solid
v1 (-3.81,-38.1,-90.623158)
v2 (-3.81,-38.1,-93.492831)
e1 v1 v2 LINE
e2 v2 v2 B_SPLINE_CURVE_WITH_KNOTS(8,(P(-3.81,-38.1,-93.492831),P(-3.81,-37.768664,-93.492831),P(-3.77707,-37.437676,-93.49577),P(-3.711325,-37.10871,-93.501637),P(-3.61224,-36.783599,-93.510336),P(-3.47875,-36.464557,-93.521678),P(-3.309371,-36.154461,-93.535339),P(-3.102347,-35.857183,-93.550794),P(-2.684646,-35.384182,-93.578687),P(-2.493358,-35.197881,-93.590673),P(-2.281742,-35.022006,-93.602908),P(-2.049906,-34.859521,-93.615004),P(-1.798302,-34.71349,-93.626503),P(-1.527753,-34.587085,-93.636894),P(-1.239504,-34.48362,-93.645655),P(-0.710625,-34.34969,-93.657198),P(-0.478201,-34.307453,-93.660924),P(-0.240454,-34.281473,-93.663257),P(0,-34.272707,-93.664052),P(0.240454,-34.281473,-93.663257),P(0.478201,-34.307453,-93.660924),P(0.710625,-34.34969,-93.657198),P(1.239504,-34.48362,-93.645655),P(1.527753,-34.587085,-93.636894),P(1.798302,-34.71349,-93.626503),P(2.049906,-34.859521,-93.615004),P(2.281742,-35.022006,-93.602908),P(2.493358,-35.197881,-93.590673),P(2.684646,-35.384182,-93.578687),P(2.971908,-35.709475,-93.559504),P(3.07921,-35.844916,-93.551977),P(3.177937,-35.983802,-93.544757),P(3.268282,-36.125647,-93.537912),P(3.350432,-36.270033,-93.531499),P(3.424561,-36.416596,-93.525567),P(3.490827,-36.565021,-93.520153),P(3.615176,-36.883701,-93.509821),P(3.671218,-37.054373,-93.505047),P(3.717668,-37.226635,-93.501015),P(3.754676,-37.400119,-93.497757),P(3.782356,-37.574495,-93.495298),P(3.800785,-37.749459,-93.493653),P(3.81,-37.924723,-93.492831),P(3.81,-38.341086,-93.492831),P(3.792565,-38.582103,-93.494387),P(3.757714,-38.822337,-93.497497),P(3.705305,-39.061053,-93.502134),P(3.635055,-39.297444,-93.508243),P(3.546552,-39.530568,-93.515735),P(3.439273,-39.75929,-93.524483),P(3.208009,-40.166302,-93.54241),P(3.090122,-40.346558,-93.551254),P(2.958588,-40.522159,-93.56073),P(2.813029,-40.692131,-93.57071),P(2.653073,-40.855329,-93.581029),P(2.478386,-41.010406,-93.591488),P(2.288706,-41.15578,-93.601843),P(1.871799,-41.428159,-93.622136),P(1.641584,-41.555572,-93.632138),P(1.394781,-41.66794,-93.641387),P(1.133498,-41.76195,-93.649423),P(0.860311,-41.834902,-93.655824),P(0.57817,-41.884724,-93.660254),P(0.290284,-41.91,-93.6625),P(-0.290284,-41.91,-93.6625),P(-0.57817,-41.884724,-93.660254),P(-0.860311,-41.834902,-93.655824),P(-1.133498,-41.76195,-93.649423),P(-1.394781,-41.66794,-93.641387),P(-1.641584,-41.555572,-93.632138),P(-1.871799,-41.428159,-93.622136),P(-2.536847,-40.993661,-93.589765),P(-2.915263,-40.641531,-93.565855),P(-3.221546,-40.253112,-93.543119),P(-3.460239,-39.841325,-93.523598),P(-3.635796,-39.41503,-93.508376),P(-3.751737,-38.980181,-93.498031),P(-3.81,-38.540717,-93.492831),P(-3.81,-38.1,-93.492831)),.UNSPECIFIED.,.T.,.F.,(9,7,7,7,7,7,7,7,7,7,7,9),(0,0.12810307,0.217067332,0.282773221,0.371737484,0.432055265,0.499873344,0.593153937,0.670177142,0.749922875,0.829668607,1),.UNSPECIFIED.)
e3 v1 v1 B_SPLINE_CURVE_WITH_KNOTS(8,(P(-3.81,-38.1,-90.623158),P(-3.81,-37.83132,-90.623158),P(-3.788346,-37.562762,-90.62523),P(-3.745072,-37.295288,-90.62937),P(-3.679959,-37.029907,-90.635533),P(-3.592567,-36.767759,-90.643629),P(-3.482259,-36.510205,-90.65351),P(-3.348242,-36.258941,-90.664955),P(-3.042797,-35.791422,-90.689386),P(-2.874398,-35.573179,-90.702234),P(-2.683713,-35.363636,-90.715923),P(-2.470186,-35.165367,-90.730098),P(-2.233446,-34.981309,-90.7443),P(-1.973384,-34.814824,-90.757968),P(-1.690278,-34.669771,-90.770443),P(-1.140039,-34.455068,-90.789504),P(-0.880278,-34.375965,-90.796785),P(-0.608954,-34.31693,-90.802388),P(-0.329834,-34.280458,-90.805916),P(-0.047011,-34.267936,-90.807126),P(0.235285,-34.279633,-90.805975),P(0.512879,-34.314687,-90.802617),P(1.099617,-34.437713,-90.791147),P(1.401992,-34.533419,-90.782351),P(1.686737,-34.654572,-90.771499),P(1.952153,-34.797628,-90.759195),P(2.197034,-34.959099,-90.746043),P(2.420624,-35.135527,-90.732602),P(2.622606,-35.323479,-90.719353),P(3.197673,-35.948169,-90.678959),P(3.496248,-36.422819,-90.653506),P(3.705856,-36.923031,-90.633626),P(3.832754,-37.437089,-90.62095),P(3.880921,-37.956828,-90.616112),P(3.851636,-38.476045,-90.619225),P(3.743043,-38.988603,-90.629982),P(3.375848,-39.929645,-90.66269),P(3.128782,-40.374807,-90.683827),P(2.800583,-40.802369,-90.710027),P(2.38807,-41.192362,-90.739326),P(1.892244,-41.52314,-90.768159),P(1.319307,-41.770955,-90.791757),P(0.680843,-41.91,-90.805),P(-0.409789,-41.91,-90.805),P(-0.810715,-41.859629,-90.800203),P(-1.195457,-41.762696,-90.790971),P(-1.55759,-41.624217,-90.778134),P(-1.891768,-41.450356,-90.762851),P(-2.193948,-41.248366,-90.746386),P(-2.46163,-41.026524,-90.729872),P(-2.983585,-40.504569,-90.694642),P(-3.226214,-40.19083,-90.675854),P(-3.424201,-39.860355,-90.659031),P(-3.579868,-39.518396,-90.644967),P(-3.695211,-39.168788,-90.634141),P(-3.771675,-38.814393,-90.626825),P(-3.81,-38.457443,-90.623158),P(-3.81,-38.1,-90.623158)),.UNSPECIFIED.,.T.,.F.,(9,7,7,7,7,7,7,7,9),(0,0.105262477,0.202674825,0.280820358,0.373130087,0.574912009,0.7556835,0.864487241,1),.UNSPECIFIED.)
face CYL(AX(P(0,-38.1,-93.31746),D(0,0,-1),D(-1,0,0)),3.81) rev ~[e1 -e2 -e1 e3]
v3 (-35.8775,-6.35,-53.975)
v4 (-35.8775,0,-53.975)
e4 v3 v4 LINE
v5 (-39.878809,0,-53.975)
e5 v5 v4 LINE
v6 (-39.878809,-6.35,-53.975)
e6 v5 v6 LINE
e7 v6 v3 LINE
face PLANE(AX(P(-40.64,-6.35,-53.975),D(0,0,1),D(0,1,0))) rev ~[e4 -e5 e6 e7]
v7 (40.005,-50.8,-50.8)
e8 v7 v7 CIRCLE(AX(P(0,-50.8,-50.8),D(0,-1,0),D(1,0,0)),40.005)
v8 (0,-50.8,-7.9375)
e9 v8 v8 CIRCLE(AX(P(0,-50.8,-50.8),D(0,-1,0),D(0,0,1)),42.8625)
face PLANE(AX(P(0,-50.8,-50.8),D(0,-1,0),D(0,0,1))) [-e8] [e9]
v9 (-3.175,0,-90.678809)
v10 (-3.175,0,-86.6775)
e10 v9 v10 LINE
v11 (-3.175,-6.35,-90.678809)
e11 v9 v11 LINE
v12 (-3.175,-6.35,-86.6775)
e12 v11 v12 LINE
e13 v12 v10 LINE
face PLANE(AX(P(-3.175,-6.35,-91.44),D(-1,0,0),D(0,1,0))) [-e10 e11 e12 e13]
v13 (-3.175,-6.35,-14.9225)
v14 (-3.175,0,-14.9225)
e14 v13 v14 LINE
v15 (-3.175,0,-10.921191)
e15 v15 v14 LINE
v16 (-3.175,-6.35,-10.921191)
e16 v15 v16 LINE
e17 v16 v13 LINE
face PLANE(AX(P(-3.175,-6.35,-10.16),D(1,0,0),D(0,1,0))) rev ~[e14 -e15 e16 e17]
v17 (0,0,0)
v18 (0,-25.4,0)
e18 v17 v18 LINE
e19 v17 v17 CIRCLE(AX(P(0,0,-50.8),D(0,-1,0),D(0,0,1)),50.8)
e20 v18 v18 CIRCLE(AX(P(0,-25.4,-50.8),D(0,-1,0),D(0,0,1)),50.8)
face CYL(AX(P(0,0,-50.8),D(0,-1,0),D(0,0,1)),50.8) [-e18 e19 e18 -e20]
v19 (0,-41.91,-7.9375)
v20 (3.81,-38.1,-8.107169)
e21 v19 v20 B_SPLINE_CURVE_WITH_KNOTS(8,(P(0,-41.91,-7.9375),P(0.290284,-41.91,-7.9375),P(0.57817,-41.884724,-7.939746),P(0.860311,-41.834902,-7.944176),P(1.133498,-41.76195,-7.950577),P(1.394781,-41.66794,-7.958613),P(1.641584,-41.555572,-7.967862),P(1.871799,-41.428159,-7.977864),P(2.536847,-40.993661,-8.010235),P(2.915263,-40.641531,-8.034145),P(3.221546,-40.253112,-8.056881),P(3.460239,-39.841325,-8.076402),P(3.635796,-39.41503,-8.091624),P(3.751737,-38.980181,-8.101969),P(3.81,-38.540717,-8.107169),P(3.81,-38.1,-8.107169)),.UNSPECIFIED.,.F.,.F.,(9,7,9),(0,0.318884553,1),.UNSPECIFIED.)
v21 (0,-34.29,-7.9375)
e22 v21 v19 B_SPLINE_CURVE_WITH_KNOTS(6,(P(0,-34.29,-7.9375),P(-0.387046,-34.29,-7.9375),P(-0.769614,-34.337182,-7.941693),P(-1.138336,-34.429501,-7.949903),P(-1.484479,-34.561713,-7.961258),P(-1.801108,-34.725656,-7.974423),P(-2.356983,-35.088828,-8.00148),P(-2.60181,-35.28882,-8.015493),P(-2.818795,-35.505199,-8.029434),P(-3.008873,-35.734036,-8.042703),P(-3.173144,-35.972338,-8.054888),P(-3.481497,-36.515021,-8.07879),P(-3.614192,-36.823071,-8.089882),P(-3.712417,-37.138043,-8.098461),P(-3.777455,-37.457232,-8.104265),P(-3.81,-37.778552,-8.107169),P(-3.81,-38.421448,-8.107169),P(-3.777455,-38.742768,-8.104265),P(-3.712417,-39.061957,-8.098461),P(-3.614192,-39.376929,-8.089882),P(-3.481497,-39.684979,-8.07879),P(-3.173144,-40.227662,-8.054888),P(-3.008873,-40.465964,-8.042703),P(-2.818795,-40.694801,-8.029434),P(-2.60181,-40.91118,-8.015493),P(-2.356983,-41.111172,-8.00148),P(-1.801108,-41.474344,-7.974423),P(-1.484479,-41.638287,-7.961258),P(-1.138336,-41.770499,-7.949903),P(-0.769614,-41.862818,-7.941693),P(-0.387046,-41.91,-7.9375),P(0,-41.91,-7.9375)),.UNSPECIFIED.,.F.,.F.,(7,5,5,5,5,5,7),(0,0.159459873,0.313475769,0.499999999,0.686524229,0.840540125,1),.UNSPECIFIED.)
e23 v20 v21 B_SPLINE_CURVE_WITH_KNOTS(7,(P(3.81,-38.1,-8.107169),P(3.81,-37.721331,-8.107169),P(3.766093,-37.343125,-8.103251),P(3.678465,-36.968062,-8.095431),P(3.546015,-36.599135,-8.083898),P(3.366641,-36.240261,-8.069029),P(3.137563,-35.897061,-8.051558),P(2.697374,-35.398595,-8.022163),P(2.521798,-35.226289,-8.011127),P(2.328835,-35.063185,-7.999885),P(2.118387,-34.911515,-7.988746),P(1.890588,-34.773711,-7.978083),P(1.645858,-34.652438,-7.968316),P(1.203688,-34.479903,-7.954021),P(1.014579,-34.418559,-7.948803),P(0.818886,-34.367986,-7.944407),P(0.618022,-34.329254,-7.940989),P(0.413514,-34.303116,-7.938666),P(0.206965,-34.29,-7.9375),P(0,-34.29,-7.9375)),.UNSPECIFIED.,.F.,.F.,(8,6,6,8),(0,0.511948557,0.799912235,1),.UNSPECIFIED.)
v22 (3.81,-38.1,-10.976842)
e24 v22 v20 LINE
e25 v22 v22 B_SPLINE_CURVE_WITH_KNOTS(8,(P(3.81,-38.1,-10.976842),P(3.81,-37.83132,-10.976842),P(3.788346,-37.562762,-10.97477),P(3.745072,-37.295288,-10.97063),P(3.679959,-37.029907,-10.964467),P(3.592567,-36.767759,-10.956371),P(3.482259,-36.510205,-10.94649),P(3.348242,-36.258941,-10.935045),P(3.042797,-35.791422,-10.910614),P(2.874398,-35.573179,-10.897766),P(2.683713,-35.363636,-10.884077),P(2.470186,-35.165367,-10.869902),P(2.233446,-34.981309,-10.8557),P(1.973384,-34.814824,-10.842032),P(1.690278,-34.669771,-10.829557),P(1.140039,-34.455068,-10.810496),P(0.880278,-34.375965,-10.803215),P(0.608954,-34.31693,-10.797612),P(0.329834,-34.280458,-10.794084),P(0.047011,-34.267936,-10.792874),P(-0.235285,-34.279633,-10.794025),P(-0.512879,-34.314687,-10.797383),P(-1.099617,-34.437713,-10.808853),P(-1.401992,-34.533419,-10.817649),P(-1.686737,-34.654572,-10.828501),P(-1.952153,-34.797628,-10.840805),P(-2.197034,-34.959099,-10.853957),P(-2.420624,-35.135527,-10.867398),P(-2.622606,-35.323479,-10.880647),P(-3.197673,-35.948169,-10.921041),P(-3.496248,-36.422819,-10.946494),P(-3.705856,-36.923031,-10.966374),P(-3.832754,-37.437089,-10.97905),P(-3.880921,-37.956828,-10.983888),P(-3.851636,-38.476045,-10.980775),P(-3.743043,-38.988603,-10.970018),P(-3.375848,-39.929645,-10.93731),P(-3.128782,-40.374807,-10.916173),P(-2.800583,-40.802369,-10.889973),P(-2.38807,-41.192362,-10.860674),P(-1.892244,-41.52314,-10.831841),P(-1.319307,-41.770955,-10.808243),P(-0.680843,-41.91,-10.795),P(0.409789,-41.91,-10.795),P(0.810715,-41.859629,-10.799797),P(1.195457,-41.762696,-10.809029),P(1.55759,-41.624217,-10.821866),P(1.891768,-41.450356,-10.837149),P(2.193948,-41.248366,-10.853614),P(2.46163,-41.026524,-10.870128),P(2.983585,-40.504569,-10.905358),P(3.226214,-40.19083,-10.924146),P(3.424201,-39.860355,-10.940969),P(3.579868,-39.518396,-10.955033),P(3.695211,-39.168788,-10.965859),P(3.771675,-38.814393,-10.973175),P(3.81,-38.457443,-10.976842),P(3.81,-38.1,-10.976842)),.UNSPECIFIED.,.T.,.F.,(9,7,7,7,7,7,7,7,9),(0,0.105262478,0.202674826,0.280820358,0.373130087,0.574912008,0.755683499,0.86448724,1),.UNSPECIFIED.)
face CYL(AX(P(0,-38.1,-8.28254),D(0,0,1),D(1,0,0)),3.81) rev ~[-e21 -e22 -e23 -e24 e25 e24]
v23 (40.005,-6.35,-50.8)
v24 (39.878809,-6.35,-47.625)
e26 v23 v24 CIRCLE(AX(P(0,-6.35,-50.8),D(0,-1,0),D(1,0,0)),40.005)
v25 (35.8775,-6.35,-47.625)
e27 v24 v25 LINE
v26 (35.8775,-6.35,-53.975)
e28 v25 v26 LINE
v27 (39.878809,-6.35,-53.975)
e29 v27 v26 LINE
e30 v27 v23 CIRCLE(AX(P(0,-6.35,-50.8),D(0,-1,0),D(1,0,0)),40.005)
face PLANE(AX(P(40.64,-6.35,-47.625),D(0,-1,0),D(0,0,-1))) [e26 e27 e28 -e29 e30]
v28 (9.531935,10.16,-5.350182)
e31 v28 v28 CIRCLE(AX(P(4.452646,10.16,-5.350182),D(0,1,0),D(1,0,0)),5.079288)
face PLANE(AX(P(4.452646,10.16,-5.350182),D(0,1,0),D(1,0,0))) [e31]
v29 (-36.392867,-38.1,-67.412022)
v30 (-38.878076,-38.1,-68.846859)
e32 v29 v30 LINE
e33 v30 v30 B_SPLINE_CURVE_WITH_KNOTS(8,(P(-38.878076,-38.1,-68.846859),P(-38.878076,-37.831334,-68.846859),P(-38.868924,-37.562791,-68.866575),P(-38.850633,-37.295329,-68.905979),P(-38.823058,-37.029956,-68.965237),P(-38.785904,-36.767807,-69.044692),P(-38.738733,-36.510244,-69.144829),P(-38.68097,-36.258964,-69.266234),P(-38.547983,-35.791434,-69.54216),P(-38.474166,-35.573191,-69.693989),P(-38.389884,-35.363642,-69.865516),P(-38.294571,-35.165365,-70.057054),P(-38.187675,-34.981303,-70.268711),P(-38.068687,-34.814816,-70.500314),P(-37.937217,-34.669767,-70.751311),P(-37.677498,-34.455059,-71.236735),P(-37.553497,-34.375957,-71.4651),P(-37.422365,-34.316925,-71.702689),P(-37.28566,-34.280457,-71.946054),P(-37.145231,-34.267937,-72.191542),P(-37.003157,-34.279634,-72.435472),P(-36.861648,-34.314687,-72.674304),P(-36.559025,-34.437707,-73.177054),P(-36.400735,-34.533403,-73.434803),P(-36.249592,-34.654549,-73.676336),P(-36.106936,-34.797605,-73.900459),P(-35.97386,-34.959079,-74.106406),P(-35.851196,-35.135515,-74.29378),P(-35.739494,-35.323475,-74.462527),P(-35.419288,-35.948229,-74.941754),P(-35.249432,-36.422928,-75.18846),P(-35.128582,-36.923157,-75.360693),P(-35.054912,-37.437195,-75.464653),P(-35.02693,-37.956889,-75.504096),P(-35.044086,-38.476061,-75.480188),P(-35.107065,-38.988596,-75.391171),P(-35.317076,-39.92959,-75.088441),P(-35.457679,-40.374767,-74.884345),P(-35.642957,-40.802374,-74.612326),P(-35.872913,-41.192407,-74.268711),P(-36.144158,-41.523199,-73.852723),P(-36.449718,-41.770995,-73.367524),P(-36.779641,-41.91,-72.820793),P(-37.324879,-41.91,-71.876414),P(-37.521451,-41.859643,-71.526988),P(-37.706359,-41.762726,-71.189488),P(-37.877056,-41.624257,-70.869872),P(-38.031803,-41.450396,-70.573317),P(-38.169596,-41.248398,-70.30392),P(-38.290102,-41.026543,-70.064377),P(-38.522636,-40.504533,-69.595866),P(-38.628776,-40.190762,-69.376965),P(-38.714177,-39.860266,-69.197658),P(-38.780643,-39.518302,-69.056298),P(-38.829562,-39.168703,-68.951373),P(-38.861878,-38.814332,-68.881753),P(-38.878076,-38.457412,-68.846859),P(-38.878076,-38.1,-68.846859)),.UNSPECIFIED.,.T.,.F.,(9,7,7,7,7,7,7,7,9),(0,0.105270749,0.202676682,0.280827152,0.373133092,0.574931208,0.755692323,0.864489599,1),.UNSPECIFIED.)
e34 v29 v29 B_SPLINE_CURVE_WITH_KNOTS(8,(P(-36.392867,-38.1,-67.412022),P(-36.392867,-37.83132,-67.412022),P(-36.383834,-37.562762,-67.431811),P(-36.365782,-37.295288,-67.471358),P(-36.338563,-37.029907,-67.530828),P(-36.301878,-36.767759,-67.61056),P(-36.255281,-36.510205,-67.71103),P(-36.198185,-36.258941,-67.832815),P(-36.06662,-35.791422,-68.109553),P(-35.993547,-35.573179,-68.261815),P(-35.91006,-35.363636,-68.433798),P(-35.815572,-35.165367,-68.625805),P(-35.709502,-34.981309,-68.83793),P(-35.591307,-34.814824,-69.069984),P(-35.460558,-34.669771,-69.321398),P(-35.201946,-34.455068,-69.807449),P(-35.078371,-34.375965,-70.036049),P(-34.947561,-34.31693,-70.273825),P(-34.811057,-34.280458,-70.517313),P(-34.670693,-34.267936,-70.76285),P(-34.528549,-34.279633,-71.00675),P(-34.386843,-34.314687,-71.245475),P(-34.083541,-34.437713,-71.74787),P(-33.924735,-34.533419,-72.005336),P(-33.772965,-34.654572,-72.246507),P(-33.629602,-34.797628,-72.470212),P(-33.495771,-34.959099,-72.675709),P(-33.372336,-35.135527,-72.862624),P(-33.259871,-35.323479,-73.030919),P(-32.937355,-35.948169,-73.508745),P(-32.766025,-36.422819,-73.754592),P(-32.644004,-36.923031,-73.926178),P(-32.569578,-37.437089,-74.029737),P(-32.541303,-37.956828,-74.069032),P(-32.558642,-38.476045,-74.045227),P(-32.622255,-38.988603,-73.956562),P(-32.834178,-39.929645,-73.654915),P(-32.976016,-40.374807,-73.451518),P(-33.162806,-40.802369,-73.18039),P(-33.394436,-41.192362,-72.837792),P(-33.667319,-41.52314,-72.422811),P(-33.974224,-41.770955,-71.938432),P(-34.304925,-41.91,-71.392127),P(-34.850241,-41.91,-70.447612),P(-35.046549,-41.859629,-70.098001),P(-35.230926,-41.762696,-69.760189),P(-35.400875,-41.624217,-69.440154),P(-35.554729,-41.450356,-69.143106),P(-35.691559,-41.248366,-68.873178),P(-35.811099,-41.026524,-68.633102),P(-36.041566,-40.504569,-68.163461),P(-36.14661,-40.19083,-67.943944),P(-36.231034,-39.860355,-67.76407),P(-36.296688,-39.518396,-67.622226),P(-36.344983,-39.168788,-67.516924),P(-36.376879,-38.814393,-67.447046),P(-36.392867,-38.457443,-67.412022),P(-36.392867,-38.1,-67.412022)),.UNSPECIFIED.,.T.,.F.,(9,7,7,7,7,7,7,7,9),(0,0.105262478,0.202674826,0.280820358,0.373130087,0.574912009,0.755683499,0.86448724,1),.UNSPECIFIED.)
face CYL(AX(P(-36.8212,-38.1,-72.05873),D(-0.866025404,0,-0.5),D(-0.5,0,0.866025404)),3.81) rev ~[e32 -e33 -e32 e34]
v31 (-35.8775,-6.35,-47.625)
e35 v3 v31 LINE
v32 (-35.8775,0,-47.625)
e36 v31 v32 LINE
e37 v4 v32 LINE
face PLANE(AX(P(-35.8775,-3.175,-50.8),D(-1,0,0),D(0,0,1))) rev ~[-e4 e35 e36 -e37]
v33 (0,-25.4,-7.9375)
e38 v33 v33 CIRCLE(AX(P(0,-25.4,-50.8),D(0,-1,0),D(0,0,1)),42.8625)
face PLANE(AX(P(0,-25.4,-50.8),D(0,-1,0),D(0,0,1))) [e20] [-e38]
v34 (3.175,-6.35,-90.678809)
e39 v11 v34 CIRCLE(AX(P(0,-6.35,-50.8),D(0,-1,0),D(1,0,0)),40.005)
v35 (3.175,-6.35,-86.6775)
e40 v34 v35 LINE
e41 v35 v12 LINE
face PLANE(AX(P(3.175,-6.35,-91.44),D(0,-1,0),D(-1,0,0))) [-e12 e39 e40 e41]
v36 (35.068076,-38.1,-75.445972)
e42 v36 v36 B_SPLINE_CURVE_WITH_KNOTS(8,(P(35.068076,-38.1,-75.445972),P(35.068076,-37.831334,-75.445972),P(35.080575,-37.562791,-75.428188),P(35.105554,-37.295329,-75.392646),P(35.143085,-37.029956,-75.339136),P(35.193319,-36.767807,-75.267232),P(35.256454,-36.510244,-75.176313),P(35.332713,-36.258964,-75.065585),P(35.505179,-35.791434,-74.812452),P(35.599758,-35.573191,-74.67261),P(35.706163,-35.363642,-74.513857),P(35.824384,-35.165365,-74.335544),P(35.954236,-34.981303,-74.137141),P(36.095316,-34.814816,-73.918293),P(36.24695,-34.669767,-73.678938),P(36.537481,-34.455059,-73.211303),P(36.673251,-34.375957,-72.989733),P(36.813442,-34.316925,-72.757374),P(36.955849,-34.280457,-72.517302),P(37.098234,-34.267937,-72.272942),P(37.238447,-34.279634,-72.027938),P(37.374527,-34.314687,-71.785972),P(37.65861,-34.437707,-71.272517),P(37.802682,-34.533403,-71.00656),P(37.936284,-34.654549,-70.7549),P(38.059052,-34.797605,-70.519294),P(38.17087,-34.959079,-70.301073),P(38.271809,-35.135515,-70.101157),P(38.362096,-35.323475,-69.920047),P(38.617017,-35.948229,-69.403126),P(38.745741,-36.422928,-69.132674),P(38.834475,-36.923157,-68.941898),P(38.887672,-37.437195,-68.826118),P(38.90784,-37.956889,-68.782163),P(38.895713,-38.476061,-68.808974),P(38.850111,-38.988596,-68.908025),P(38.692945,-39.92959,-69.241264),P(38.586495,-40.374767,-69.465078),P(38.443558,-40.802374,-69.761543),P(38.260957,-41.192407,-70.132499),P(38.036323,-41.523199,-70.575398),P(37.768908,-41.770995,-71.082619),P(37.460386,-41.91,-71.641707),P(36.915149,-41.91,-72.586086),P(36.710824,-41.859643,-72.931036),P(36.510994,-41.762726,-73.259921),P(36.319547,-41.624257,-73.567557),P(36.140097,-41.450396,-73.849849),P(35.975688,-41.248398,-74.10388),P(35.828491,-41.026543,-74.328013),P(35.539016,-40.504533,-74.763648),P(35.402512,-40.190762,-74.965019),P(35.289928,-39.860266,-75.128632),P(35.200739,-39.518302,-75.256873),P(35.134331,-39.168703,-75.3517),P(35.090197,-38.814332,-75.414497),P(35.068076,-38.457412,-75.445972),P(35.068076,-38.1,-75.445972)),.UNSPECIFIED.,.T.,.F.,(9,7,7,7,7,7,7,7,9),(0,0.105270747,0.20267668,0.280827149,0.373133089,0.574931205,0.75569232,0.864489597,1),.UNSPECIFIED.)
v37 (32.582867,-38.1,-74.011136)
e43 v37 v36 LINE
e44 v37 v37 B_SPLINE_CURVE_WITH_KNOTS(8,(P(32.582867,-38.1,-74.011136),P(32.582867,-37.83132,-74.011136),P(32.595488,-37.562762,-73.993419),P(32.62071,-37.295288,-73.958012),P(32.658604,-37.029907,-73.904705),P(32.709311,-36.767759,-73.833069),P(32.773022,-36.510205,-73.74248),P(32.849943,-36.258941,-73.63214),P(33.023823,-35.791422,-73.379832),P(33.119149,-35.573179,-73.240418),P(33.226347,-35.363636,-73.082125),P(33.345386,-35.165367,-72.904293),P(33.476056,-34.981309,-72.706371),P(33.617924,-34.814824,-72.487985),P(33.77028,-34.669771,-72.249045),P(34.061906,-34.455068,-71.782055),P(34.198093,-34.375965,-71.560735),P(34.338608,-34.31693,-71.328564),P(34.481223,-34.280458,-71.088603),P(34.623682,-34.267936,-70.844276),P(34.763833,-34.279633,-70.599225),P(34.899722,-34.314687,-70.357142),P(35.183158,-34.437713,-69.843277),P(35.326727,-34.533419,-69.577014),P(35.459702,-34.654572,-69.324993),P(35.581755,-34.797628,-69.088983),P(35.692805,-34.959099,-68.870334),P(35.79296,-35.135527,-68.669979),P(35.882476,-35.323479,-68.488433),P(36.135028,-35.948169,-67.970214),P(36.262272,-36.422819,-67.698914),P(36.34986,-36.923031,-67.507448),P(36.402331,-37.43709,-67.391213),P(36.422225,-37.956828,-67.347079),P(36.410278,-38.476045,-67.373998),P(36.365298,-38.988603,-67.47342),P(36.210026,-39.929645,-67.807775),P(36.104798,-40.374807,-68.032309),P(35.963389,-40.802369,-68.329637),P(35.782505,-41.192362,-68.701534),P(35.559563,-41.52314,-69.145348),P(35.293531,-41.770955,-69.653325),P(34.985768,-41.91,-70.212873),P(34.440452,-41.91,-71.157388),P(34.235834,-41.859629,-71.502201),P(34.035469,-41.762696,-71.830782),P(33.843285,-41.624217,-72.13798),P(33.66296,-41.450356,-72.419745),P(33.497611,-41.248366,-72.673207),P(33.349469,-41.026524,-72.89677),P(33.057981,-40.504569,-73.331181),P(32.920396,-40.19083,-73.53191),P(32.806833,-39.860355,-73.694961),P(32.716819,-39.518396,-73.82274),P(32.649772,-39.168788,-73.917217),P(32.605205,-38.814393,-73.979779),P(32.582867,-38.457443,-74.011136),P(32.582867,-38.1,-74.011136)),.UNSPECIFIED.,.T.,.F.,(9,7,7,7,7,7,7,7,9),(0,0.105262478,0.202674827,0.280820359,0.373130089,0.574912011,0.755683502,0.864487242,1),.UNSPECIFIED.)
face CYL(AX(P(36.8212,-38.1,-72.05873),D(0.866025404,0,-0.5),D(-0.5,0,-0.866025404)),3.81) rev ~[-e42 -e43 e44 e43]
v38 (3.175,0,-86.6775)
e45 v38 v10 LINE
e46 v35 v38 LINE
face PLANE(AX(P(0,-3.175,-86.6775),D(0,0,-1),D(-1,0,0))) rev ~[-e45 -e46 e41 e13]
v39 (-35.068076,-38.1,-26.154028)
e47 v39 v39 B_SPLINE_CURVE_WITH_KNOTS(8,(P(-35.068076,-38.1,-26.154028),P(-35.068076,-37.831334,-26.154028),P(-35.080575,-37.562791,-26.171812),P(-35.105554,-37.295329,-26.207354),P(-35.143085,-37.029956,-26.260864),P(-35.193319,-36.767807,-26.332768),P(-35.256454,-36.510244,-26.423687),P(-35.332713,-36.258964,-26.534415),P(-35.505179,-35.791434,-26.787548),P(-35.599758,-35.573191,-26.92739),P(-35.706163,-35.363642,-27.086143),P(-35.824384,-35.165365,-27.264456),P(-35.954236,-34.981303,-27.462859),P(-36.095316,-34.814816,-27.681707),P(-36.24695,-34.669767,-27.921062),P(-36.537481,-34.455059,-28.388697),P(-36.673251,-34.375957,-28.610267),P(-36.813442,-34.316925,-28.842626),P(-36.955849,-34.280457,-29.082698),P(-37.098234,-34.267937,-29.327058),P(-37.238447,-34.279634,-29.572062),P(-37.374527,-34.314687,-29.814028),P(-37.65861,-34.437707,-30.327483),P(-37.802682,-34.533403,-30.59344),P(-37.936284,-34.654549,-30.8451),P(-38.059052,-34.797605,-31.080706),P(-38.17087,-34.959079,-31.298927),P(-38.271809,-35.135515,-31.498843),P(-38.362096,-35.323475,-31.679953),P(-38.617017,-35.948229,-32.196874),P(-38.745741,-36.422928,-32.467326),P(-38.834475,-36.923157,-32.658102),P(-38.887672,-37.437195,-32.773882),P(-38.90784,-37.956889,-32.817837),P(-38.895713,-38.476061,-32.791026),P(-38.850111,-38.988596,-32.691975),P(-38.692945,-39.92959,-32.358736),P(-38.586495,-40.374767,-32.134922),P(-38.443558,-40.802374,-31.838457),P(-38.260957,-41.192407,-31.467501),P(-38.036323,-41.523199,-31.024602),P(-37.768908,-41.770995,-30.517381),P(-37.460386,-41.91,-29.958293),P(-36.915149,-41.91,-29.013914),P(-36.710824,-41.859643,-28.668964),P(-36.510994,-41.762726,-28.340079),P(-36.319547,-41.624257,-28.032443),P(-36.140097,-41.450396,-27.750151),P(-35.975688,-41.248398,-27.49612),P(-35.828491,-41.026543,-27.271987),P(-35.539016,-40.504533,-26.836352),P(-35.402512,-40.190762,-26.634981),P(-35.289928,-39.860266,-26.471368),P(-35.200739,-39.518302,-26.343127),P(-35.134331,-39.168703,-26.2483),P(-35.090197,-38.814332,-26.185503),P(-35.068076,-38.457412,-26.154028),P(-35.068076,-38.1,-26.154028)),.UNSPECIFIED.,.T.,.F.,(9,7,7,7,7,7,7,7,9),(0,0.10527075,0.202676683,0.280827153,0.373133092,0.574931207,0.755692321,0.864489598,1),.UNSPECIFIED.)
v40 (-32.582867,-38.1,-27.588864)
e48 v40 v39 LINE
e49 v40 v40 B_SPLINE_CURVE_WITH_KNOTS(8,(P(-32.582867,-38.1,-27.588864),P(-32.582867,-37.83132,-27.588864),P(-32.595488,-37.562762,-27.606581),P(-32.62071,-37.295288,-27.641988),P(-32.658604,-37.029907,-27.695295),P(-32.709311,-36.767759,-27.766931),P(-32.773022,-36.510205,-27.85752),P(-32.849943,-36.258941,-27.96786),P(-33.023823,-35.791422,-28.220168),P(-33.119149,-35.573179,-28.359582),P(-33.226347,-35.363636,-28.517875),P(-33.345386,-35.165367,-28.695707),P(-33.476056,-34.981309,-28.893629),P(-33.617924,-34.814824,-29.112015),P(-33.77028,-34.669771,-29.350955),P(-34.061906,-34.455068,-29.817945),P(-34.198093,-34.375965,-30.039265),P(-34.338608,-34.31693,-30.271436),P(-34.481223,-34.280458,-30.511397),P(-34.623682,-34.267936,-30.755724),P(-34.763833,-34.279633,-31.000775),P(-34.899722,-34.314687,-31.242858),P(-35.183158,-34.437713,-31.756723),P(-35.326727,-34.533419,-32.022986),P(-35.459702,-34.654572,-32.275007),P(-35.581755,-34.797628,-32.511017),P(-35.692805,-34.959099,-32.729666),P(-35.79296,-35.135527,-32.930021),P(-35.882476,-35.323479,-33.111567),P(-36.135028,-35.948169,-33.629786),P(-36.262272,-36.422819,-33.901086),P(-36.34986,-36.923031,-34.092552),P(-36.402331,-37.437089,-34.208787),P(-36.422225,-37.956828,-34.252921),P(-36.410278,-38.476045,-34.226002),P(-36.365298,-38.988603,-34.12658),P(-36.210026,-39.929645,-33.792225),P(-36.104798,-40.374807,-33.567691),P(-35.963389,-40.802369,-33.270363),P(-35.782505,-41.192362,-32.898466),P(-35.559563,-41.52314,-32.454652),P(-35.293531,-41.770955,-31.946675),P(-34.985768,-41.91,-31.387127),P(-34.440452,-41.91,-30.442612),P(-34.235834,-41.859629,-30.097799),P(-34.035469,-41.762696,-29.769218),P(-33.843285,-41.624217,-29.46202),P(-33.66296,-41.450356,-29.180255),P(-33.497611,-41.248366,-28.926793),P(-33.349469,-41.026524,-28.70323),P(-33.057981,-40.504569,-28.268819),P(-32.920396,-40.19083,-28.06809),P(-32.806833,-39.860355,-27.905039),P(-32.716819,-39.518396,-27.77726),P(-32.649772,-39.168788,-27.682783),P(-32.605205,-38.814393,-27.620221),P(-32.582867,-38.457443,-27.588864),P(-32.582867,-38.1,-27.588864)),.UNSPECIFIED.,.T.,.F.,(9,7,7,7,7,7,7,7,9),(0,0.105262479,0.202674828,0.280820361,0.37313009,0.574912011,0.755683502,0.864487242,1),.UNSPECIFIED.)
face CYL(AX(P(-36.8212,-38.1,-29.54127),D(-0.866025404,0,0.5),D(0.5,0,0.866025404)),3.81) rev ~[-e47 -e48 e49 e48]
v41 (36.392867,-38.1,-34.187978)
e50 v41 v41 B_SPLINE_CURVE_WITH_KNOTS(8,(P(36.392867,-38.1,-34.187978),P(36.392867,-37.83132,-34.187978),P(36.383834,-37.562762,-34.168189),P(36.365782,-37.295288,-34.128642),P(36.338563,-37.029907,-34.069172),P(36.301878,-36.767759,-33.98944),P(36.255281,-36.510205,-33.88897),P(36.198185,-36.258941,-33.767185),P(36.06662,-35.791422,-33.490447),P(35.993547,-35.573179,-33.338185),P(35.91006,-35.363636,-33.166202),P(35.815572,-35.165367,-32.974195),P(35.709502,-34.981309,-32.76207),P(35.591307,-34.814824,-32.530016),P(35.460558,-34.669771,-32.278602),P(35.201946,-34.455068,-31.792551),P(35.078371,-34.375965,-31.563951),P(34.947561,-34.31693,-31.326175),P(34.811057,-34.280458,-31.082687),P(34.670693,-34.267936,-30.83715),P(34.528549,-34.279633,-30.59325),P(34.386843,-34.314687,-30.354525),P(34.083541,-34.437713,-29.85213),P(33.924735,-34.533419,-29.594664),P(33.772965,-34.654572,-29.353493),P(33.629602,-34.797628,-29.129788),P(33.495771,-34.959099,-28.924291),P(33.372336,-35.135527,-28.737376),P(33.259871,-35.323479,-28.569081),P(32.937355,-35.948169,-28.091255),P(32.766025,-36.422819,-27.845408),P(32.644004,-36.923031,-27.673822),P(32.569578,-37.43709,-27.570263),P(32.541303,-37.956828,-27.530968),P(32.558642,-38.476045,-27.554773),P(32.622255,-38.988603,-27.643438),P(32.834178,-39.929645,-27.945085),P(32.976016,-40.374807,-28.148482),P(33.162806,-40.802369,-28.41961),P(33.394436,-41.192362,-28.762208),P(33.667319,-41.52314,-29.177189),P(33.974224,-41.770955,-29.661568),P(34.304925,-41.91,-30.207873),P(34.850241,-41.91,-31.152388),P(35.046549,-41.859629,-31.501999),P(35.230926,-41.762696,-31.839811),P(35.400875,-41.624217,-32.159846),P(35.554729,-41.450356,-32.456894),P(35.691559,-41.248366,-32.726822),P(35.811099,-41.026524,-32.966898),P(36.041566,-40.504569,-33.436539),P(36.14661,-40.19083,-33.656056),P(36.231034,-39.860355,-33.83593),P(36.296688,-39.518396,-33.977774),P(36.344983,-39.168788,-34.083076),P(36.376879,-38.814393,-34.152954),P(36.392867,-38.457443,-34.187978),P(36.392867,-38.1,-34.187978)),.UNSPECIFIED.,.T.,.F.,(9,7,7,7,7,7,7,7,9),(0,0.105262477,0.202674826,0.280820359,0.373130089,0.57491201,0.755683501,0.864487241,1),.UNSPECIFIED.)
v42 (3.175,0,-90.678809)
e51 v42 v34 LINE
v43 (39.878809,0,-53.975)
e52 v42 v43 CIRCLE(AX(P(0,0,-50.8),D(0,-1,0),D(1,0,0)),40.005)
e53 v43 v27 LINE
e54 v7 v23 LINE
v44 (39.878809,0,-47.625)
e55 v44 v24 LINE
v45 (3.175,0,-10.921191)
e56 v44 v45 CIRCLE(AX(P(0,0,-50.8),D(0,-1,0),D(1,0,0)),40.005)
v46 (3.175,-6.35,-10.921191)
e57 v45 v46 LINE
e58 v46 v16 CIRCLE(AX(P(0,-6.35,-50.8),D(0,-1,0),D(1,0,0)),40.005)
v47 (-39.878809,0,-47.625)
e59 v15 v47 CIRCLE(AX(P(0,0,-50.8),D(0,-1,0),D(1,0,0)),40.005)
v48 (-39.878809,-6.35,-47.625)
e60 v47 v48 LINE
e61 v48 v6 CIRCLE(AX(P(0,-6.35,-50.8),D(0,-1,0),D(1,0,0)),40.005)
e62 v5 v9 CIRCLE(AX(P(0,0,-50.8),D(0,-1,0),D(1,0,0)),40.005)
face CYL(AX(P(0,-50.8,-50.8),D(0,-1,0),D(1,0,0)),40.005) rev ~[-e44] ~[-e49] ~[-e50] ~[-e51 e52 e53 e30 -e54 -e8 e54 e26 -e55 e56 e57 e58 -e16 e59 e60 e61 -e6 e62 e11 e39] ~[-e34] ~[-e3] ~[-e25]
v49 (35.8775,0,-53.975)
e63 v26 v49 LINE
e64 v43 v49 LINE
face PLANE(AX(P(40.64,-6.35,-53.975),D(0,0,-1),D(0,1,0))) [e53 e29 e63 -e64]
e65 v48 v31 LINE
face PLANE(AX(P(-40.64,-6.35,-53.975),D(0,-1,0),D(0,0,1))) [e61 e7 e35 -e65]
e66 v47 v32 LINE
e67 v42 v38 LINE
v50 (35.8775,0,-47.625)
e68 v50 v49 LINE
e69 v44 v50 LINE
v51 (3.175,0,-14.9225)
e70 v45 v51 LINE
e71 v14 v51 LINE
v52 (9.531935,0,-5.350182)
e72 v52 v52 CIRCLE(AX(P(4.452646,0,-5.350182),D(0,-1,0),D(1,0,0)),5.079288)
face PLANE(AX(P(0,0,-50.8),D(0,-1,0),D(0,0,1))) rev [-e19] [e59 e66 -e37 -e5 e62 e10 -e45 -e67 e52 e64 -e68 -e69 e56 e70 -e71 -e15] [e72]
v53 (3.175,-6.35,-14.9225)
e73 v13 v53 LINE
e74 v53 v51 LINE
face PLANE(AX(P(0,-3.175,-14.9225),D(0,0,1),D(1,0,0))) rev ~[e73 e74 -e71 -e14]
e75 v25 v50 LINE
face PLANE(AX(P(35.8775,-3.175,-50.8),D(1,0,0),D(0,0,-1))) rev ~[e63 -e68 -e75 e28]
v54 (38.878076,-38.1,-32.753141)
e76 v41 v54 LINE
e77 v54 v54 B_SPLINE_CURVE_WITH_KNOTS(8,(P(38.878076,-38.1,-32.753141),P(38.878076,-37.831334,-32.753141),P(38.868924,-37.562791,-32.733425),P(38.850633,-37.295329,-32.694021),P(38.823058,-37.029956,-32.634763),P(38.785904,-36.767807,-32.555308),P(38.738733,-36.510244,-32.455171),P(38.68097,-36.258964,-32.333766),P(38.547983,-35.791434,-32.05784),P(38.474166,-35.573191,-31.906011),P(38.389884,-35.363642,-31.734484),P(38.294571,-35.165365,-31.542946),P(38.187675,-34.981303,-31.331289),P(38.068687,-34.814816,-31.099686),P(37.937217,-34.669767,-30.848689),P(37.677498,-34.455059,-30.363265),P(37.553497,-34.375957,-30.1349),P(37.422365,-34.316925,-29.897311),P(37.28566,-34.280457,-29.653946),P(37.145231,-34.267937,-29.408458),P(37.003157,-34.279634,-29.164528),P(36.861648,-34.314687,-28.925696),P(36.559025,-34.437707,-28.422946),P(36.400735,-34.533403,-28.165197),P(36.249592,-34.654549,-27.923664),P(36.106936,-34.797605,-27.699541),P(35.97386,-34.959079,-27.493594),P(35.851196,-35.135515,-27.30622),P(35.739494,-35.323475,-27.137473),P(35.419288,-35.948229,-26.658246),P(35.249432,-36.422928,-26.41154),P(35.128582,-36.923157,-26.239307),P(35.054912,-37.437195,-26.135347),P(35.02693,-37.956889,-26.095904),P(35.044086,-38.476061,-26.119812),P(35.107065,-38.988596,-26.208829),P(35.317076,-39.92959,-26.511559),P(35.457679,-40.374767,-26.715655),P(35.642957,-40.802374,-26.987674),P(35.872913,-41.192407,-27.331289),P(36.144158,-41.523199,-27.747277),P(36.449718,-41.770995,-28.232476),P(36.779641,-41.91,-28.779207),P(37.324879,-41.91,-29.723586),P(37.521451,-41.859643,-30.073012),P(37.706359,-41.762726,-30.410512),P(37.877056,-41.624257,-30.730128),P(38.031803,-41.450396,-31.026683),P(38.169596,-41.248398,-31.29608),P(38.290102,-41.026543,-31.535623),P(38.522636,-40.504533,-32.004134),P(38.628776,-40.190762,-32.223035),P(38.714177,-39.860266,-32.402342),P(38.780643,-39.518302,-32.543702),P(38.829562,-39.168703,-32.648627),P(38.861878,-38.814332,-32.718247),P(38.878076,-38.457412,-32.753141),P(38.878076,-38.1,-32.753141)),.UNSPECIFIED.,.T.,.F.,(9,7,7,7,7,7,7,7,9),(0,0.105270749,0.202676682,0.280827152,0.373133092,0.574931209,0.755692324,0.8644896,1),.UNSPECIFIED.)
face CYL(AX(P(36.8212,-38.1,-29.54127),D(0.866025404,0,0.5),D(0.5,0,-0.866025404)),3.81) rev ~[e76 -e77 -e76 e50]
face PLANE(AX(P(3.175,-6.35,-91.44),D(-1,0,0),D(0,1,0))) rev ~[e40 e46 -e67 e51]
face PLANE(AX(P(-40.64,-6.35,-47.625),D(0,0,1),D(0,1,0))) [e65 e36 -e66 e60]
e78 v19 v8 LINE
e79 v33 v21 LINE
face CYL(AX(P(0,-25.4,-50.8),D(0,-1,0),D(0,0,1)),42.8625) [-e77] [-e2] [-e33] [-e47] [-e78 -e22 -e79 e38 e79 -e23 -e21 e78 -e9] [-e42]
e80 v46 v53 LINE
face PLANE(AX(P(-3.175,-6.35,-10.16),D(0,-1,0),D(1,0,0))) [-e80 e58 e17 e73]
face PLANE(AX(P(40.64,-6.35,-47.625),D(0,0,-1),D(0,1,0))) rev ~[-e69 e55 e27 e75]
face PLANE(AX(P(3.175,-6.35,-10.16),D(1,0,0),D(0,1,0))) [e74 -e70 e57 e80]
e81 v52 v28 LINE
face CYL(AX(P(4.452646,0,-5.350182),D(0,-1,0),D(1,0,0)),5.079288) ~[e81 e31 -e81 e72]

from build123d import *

# Parameters (mm, degrees)
SKETCH8_R           = 3.81
CUT_EXTRUDE2_DEPTH  = 10.16
CIRPATTERN1_COUNT   = 6
SKETCH10_R          = 40.005
CUT_EXTRUDE4_DEPTH  = 125.434078974
SKETCH16_R          = 5.079288484
BOSS_EXTRUDE1_DEPTH = 10.16
SKETCH17_W          = 6.35
SKETCH17_H          = 6.35
BOSS_EXTRUDE2_DEPTH = 4.7625
CIRPATTERN2_COUNT   = 4


with BuildPart() as part:
    # Sketch1 → Revolve1 (revolve)
    with BuildSketch(Plane(origin=(0, 0, 0), x_dir=(0, 0, -1), z_dir=(1, 0, 0))):
        Polygon((0, 0), (0, -25.4), (7.9375, -25.4), (7.9375, -50.8), (12.7, -50.8), (12.7, 0), align=None)
    revolve(axis=Axis((0, 24.668312757, -50.8), (0, -1, 0)))

    # Sketch8 → Cut-Extrude2 (cut, symmetric)
    with BuildSketch(Plane.XY.offset(-8.282540139)):
        with Locations((0, -38.1)):
            Circle(SKETCH8_R)
    cut_extrude2 = extrude(amount=CUT_EXTRUDE2_DEPTH, both=True, mode=Mode.SUBTRACT)

    # CirPattern1: Cut-Extrude2 ×6 about axis
    cirpattern1_axis = Axis((0, 24.668312757, -50.8), (0, 1, 0))
    for i in range(1, CIRPATTERN1_COUNT):
        add(cut_extrude2.rotate(cirpattern1_axis, i * 360 / CIRPATTERN1_COUNT), mode=Mode.SUBTRACT)

    # Sketch10 → Cut-Extrude4 (cut, through all)
    with BuildSketch(Plane.XZ.offset(50.8)):
        with Locations((0, -50.8)):
            Circle(SKETCH10_R)
    extrude(amount=-CUT_EXTRUDE4_DEPTH, mode=Mode.SUBTRACT)

    # Sketch16 → Boss-Extrude1 (add)
    with BuildSketch(Plane(origin=(0, 0, 0), x_dir=(1, 0, 0), z_dir=(0, 1, 0))):
        with Locations((4.452646476, 5.350182374)):
            Circle(SKETCH16_R)
    extrude(amount=BOSS_EXTRUDE1_DEPTH)

    # Sketch17 → Boss-Extrude2 (add)
    with BuildSketch(Plane.XY.offset(-10.16)):
        with Locations((0, -3.175)):
            Rectangle(SKETCH17_W, SKETCH17_H)
    boss_extrude2 = extrude(amount=-BOSS_EXTRUDE2_DEPTH)

    # CirPattern2: Boss-Extrude2 ×4 about axis
    cirpattern2_axis = Axis((0, 0, -50.8), (0, -1, 0))
    for i in range(1, CIRPATTERN2_COUNT):
        add(boss_extrude2.rotate(cirpattern2_axis, i * 360 / CIRPATTERN2_COUNT))


solid = part.part
